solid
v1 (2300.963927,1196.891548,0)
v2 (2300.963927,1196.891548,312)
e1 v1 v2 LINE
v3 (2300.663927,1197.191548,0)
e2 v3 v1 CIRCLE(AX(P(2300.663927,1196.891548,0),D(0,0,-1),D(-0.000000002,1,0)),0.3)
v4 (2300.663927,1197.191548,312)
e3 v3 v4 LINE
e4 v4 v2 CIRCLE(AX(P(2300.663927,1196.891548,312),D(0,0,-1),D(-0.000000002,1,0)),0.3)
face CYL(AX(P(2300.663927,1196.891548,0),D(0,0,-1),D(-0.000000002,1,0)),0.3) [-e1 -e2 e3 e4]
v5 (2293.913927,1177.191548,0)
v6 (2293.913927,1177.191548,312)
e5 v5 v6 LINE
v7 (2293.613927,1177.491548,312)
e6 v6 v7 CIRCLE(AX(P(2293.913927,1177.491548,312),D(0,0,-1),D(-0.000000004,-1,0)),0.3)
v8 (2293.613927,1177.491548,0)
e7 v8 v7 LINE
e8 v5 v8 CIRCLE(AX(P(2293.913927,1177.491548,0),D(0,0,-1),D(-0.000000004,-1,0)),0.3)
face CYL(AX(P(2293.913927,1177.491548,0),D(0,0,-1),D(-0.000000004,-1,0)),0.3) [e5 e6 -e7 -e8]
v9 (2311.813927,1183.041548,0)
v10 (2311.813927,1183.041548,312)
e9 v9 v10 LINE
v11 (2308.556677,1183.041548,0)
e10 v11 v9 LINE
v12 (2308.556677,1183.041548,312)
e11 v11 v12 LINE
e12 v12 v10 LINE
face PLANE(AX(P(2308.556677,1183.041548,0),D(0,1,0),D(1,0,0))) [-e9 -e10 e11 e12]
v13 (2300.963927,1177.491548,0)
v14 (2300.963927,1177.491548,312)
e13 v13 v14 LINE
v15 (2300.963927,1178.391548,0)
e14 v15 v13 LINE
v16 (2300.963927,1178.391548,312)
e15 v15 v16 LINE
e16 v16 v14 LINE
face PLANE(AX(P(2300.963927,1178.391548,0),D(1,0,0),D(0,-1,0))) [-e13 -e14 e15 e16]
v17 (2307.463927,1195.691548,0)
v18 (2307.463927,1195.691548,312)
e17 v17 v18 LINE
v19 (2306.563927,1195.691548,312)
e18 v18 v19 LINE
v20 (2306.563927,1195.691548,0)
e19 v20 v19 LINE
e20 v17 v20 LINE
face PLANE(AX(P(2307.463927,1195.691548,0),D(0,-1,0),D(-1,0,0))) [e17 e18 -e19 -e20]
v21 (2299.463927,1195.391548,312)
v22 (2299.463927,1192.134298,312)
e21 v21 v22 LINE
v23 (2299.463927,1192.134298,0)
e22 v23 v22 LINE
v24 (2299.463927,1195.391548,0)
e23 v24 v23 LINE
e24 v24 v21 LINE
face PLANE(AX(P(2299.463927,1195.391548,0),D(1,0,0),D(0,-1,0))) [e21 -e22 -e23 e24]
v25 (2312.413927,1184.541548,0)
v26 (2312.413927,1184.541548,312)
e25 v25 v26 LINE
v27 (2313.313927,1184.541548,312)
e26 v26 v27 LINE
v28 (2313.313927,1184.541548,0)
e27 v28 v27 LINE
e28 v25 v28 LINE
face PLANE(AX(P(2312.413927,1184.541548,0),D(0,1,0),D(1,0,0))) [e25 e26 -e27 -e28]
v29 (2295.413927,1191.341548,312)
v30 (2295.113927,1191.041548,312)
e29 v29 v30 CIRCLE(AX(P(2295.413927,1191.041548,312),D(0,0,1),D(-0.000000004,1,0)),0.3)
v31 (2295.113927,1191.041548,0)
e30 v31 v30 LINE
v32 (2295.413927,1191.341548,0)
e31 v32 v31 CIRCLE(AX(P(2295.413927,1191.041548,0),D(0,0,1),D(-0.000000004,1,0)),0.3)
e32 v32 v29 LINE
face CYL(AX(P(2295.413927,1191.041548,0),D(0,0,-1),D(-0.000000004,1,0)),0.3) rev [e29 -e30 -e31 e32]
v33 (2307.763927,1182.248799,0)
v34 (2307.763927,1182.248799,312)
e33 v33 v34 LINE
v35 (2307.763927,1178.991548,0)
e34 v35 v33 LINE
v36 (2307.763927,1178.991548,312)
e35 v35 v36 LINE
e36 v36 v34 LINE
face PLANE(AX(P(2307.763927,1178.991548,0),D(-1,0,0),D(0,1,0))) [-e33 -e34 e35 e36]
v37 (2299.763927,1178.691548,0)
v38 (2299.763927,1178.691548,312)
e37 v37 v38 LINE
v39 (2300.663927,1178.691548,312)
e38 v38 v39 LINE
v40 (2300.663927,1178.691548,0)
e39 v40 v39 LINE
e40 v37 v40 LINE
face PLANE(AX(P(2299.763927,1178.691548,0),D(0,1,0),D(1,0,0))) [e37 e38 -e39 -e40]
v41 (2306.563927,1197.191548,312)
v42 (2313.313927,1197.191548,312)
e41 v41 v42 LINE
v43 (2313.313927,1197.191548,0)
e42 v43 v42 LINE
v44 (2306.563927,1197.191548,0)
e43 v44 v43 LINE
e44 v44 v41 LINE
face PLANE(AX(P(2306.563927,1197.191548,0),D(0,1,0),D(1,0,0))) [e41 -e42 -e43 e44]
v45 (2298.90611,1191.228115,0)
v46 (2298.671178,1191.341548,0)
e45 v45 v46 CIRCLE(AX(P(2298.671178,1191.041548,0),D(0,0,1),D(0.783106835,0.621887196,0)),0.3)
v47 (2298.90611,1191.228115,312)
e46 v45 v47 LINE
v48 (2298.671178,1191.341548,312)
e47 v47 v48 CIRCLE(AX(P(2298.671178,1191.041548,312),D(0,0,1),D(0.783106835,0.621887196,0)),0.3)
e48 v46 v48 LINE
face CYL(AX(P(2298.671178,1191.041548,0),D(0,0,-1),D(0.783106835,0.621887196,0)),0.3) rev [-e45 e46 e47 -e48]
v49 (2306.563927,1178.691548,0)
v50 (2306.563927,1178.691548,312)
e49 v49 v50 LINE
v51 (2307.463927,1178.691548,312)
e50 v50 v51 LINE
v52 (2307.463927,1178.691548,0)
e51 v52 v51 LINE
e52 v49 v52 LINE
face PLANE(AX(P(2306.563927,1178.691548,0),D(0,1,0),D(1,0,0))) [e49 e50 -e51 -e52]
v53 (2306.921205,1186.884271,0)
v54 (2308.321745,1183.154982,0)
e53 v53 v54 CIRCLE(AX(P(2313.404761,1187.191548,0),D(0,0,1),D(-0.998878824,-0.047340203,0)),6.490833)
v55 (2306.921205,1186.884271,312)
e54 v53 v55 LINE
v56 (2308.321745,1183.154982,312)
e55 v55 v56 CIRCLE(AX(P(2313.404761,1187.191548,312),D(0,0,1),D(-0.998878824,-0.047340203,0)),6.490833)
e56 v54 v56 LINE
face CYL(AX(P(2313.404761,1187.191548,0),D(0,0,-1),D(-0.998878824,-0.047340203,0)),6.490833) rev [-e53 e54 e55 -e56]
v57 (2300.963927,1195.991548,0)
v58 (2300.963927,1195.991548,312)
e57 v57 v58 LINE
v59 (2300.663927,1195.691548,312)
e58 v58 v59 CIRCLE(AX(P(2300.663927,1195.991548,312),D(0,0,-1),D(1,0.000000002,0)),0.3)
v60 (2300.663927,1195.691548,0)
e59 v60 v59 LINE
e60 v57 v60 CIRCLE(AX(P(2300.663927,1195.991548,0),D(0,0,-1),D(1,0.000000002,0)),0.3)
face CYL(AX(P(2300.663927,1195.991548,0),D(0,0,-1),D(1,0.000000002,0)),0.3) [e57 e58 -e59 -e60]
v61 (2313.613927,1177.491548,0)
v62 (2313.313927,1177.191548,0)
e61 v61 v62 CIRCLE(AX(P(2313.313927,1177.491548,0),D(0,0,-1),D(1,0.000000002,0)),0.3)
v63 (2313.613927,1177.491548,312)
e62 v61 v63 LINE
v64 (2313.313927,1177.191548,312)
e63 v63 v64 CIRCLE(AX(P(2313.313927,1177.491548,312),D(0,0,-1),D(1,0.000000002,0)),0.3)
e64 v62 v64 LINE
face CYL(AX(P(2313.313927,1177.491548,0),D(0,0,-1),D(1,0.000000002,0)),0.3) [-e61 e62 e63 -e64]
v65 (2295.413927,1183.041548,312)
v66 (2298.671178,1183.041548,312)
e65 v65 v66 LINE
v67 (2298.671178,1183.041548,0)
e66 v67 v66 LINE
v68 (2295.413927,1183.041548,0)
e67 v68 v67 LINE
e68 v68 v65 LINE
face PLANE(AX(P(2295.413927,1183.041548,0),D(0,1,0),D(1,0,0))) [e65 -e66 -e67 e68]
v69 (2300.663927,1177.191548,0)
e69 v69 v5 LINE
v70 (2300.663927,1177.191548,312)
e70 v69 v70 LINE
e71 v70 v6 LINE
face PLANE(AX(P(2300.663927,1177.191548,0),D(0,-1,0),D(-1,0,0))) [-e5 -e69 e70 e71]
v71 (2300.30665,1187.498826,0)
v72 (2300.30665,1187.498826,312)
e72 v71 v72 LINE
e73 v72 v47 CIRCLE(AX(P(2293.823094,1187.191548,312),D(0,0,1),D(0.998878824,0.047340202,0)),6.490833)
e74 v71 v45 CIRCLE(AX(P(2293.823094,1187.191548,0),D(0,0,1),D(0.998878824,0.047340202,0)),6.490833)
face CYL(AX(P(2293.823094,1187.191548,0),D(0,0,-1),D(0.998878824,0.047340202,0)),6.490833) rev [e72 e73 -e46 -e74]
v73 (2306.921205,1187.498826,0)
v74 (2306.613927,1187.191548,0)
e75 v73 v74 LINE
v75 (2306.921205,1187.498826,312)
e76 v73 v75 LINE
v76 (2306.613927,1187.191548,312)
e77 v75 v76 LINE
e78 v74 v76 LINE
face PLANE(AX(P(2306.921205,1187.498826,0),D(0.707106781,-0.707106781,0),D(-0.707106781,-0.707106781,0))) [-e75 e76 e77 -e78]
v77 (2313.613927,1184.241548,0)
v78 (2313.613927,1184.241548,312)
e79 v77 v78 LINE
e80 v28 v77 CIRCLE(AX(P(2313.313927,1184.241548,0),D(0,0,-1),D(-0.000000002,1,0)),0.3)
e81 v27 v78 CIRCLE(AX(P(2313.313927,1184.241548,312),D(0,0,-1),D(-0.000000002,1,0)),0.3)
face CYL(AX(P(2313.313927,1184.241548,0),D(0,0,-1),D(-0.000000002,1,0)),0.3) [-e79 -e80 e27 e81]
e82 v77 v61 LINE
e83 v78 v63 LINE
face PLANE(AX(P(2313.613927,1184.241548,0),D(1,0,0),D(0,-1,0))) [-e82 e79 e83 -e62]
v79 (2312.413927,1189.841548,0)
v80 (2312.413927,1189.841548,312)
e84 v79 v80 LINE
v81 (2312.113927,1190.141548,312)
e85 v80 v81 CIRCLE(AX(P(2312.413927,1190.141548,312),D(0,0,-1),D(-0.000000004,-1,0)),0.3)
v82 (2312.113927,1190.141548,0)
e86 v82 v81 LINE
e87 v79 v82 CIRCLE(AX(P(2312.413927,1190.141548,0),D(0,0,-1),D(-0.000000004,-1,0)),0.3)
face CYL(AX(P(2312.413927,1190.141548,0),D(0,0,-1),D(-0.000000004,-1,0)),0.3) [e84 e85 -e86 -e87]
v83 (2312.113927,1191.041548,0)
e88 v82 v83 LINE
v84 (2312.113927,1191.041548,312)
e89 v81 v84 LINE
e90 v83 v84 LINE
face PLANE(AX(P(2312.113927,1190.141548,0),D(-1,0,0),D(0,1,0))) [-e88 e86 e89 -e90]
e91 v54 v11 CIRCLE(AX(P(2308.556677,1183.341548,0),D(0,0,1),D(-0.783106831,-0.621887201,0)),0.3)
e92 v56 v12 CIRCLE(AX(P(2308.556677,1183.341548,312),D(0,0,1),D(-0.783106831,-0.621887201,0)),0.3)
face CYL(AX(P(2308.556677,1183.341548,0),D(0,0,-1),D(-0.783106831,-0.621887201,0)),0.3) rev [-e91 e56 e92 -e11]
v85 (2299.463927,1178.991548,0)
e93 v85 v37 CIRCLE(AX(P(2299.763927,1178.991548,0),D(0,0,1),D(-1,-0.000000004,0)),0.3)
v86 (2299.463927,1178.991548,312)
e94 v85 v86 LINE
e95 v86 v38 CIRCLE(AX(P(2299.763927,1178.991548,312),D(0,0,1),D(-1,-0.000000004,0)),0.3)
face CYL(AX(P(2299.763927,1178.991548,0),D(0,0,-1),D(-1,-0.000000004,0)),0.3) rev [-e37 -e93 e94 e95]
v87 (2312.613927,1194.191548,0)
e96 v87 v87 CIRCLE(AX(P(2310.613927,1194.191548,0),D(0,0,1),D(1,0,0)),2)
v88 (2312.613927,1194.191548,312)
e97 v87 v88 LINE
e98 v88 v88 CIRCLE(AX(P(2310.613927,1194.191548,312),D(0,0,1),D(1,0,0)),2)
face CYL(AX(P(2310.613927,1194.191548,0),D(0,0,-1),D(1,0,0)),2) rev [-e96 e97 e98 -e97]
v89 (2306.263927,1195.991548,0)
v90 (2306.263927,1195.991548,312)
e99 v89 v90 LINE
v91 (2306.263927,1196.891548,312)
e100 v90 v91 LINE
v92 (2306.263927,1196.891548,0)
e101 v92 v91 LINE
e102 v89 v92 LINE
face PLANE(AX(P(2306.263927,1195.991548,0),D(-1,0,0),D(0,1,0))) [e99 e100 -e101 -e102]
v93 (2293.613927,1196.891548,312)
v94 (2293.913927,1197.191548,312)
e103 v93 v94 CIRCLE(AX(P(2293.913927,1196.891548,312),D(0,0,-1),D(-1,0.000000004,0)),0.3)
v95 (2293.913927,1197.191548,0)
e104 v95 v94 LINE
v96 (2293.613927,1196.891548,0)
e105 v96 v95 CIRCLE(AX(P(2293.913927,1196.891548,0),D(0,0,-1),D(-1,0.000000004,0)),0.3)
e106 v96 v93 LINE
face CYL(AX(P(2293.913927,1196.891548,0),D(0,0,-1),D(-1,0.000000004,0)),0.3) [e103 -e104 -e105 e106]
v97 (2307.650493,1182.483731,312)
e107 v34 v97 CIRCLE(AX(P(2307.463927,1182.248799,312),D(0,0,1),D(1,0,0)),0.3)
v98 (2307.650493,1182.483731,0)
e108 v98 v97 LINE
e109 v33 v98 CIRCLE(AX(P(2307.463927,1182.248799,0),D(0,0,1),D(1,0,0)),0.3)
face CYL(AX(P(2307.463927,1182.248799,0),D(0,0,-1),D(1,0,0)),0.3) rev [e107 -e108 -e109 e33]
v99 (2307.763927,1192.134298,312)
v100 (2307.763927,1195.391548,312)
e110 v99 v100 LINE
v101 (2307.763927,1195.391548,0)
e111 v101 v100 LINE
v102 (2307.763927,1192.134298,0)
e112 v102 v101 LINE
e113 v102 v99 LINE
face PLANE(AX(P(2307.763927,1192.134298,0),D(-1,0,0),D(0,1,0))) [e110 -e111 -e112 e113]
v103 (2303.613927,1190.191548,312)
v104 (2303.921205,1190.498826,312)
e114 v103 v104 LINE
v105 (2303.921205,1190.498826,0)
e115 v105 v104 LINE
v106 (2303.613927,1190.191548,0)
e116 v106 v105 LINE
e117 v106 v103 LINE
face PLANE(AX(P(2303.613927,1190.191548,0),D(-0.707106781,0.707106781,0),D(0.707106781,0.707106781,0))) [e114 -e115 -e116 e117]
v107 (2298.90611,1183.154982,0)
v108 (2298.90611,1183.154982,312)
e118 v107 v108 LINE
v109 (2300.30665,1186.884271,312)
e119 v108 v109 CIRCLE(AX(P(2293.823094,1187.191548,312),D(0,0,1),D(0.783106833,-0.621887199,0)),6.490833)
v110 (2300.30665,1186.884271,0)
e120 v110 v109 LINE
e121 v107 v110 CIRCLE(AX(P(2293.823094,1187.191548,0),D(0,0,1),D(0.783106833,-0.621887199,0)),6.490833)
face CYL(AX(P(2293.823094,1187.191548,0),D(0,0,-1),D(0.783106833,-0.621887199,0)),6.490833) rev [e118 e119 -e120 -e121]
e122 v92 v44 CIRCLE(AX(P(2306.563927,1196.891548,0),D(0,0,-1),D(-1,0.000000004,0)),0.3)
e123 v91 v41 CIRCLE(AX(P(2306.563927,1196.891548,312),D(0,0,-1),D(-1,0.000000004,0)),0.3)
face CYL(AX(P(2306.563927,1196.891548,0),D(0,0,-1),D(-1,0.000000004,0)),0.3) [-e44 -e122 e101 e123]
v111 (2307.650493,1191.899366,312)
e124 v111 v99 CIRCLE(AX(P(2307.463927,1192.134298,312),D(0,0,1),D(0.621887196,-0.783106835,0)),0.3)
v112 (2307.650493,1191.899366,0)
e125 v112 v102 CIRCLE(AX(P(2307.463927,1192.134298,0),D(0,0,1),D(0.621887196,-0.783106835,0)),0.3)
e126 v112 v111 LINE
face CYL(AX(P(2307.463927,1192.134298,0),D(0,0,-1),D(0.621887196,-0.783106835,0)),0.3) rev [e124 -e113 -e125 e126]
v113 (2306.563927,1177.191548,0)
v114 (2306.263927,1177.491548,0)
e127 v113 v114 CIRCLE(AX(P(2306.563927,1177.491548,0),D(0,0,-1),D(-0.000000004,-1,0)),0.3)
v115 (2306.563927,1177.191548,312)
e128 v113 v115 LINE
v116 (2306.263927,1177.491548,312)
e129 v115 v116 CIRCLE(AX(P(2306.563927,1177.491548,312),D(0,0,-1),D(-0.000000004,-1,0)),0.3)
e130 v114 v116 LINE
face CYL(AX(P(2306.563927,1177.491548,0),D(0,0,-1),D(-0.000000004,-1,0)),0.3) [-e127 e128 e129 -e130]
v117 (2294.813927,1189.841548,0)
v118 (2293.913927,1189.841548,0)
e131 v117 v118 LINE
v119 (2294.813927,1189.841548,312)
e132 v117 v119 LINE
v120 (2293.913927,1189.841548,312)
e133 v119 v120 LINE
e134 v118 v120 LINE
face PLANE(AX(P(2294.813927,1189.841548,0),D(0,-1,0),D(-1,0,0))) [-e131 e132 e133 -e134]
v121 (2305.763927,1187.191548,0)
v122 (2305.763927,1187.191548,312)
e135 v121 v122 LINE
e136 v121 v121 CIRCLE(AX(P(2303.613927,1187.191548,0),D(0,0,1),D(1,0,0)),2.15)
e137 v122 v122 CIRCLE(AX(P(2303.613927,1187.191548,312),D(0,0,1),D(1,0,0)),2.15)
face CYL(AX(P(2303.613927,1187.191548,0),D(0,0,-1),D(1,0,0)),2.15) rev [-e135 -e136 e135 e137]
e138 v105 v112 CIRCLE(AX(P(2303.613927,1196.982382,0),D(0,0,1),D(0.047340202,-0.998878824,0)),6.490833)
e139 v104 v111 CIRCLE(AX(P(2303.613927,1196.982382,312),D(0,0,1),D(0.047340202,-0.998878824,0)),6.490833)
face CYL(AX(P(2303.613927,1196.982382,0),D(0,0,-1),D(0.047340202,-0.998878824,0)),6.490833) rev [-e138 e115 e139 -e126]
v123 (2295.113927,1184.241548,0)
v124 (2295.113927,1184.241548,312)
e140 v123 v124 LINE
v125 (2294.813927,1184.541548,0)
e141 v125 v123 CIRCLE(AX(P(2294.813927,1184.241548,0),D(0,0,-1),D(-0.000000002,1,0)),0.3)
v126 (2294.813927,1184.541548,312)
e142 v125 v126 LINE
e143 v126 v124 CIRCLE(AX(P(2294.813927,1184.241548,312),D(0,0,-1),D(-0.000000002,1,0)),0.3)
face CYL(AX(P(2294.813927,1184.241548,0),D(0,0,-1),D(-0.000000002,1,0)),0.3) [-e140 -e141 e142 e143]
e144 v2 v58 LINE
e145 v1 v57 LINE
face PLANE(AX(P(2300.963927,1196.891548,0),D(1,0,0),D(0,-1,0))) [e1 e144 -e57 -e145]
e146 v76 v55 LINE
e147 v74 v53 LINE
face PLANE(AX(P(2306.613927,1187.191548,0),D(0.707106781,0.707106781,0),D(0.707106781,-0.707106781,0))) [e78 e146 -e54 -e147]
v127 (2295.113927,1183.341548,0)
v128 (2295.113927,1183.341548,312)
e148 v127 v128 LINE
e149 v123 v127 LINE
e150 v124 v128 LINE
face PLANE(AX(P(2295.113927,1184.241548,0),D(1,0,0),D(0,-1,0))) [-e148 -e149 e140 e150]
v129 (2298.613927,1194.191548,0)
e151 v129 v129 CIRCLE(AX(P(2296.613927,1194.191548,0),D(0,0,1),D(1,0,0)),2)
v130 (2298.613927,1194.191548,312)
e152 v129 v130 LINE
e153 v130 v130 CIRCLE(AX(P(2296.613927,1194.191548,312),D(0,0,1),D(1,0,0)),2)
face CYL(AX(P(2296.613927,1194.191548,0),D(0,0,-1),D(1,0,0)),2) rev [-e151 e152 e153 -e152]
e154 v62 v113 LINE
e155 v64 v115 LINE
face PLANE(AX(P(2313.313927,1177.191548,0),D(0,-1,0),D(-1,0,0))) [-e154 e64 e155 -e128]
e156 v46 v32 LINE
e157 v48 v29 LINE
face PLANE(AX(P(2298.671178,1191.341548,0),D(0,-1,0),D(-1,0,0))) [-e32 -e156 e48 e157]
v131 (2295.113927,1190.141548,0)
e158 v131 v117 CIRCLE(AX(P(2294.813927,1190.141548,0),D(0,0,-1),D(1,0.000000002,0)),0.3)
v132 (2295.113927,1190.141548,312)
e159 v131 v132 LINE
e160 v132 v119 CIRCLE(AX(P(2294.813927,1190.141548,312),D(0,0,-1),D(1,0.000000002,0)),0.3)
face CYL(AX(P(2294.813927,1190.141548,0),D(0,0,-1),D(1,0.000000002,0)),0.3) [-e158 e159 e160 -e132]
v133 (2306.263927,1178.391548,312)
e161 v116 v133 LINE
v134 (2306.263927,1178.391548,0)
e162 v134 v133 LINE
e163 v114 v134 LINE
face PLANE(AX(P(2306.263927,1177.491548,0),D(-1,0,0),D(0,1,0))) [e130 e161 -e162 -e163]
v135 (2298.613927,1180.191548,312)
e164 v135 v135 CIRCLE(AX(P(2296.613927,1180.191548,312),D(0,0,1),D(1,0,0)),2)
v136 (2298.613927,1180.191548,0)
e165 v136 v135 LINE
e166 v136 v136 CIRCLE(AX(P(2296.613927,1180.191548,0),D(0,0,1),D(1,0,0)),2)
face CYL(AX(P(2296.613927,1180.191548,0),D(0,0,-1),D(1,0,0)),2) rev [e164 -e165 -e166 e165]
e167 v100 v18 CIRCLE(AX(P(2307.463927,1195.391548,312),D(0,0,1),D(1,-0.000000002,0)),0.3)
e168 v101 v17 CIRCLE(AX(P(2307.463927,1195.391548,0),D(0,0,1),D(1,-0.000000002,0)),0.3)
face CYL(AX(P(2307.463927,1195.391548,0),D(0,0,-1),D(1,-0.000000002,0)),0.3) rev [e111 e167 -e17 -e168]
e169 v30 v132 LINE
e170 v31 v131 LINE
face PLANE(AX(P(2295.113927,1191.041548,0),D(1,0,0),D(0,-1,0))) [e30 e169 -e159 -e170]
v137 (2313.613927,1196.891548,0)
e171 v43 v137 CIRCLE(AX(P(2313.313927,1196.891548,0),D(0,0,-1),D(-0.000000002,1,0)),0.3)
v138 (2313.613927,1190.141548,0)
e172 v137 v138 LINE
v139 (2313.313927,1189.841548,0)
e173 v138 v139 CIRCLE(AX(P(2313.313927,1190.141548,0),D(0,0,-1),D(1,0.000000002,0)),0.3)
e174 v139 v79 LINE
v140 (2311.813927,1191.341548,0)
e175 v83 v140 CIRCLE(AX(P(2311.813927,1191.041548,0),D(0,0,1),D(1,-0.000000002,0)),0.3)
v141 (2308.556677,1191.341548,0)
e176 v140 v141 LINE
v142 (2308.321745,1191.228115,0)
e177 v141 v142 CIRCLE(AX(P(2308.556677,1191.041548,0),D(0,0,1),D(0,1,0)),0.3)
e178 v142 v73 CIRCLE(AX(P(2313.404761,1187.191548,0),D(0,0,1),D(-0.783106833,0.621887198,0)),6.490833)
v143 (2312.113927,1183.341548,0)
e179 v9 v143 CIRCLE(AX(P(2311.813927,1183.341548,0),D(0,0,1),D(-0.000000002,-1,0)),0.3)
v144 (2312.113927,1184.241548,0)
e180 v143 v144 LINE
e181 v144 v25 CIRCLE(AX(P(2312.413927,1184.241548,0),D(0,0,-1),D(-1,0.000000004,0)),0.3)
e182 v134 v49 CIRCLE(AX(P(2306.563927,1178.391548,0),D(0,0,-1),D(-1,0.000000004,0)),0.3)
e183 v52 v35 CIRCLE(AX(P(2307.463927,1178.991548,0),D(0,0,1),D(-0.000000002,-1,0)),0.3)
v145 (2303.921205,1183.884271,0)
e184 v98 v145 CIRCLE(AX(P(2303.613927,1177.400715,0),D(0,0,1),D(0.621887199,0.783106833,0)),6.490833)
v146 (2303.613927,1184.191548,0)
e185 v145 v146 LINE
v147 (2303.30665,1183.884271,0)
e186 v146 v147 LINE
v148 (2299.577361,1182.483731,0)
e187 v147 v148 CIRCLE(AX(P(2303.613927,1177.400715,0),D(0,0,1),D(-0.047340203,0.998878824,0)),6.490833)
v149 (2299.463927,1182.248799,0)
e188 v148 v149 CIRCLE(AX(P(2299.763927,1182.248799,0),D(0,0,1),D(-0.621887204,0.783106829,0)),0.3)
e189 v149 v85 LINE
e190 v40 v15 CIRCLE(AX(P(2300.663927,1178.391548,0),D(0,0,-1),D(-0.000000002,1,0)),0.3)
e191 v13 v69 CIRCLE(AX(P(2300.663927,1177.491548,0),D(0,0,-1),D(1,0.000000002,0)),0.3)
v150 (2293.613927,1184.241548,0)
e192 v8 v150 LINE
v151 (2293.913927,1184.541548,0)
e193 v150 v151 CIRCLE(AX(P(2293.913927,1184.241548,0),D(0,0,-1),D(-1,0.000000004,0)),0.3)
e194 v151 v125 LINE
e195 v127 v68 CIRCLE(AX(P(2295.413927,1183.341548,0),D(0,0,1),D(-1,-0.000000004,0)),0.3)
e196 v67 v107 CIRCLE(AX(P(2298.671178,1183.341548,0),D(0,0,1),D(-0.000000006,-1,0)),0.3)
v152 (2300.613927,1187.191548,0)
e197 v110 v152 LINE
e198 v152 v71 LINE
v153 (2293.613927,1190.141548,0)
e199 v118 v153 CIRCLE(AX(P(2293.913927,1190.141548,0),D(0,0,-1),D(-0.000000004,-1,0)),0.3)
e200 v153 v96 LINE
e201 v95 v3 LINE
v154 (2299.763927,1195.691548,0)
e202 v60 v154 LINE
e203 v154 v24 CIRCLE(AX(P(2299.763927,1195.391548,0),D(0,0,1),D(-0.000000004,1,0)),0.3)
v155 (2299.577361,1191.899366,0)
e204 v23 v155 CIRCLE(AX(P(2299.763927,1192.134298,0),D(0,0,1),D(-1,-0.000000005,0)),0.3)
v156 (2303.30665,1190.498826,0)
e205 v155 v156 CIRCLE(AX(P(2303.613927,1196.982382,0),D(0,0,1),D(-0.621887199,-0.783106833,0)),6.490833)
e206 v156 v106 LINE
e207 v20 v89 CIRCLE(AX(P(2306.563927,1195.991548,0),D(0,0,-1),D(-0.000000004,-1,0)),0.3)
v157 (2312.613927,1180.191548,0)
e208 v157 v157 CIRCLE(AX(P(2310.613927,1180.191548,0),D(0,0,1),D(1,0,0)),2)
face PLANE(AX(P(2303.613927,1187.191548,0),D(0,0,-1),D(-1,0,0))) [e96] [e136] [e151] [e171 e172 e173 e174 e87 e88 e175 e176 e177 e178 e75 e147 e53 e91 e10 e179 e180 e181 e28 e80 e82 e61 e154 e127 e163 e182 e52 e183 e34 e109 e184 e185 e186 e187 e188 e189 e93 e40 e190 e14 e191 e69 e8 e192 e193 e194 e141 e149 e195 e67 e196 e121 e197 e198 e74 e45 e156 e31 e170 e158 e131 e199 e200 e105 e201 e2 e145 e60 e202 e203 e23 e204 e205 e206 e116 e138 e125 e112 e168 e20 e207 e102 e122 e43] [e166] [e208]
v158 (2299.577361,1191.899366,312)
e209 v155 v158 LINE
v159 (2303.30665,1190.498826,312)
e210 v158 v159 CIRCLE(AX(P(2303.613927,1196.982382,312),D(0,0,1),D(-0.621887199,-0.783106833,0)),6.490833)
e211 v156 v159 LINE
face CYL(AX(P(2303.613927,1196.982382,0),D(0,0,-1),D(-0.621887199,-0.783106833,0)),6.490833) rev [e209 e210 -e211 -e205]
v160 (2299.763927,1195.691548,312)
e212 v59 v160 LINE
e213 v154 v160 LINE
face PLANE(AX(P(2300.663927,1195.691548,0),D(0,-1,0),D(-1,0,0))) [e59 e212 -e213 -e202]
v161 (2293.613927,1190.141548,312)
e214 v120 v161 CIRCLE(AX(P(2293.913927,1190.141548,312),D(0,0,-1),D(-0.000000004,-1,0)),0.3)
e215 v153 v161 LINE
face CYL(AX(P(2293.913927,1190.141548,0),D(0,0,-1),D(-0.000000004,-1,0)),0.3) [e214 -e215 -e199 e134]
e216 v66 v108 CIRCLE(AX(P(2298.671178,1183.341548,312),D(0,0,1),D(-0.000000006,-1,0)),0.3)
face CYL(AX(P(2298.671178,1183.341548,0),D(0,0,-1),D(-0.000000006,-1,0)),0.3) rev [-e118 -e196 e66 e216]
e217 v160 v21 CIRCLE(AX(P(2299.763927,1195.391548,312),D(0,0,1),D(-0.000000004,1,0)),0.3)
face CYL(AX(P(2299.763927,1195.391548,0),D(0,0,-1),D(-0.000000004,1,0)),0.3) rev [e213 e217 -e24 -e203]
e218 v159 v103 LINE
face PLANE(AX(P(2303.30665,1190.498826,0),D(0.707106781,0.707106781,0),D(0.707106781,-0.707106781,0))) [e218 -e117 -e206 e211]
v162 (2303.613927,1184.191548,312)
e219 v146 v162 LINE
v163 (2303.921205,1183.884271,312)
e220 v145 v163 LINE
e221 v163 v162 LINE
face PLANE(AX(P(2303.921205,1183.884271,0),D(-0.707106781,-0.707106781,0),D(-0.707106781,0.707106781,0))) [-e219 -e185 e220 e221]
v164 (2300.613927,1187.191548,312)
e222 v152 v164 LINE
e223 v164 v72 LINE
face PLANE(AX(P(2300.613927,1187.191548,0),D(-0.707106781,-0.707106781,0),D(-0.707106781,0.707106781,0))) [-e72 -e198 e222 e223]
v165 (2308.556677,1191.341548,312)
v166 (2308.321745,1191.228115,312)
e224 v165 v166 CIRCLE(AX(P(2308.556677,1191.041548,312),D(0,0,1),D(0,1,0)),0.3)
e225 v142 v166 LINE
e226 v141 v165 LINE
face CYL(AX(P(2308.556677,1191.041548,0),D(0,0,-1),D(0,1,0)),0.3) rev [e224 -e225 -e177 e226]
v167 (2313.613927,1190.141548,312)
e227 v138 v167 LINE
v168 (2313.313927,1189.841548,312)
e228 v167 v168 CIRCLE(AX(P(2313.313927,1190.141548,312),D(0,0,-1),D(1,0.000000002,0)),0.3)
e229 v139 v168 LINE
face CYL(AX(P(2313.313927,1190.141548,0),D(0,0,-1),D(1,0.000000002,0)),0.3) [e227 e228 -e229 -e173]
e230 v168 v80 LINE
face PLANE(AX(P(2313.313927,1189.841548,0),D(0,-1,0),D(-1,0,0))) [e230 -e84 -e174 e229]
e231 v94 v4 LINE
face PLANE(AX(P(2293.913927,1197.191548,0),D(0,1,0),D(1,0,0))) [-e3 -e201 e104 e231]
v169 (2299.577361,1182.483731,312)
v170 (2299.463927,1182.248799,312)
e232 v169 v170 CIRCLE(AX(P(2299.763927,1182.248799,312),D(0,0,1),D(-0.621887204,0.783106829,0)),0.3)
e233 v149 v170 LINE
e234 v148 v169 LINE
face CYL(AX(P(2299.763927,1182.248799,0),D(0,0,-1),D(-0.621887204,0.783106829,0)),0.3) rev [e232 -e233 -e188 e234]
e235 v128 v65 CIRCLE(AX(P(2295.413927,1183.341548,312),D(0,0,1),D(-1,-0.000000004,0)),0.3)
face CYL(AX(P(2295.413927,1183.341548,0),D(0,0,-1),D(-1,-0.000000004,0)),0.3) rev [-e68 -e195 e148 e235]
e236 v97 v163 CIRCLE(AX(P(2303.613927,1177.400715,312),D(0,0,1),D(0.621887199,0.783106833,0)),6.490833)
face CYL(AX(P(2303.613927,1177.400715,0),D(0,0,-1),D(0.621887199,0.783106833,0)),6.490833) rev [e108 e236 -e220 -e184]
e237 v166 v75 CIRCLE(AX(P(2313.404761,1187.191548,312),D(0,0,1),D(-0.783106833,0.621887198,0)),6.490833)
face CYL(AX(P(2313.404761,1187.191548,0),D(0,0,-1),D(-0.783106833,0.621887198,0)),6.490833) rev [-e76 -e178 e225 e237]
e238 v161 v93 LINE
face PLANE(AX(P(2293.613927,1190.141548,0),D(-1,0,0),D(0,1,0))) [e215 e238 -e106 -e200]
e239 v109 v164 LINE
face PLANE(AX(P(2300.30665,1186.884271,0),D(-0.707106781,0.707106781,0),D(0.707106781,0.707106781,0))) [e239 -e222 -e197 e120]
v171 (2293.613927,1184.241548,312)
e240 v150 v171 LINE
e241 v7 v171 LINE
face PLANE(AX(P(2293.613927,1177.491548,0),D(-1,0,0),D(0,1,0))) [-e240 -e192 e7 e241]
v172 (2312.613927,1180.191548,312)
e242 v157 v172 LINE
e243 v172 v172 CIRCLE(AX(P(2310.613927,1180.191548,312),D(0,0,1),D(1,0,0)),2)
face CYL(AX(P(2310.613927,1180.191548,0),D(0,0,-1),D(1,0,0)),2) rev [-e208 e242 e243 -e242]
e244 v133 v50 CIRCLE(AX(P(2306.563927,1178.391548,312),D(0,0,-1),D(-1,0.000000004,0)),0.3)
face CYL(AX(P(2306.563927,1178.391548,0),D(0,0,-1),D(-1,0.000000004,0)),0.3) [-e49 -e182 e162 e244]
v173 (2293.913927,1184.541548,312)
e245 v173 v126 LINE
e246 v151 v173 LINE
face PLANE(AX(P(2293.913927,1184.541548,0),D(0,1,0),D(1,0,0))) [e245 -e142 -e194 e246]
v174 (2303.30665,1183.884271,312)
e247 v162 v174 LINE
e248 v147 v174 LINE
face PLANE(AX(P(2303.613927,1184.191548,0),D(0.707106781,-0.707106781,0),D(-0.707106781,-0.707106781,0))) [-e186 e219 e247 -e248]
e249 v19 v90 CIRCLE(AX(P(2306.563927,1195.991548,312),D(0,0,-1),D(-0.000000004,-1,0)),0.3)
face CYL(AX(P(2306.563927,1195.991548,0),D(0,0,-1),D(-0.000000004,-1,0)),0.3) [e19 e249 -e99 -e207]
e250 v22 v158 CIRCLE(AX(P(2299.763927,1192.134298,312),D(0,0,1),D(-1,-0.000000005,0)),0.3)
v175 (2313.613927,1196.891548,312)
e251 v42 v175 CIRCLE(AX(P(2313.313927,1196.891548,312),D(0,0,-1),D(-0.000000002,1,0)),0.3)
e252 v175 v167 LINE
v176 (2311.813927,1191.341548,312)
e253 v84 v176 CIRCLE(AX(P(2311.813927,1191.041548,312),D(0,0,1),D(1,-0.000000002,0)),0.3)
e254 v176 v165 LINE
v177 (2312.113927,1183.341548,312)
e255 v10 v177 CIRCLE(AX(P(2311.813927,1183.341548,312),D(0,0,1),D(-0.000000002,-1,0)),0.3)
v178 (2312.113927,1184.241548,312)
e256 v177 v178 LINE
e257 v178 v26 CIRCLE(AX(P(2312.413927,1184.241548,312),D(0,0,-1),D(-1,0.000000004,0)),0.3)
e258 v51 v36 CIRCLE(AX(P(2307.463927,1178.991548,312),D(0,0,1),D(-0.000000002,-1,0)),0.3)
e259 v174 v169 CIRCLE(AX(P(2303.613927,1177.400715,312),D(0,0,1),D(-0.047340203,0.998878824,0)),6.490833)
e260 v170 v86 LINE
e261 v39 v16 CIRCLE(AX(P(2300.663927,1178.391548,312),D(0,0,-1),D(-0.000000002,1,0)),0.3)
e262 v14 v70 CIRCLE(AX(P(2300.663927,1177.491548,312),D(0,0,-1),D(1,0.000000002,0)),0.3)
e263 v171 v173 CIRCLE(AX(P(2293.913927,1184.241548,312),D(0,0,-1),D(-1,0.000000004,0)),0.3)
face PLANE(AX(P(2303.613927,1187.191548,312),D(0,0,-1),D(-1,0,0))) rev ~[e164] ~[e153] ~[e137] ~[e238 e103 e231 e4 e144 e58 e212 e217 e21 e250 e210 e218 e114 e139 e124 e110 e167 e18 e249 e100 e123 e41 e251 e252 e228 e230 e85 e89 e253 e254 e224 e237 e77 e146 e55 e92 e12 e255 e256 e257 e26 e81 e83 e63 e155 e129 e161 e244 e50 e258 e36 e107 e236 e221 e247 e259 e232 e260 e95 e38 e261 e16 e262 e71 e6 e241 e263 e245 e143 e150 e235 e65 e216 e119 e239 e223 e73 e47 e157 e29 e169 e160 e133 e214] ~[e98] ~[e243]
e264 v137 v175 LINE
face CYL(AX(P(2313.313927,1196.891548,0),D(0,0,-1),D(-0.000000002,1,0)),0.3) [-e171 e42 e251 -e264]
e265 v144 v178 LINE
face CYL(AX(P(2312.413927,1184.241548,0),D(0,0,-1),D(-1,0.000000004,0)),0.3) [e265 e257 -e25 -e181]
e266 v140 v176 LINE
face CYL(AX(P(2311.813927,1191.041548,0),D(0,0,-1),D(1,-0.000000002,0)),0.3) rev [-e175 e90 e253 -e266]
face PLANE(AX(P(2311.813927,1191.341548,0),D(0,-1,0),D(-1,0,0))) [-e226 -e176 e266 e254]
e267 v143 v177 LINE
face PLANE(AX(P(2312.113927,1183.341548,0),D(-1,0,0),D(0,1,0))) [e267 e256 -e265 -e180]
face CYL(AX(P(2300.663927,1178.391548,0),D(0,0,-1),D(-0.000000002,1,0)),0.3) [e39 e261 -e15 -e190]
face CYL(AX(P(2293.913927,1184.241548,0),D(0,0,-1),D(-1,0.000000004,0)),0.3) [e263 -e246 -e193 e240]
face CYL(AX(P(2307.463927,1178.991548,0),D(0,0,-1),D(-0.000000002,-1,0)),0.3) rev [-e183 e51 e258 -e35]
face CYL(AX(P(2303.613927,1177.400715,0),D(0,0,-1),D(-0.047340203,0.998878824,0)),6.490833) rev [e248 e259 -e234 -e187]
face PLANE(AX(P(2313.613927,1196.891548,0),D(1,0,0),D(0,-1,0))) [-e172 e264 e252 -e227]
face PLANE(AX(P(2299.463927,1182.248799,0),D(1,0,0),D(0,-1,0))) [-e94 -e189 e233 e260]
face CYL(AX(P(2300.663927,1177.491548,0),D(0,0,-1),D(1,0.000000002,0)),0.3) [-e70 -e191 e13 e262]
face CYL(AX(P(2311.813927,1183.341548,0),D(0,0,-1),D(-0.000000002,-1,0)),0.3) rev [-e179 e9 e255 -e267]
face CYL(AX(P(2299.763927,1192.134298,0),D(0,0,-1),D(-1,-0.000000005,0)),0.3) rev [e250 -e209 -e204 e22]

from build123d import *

# Parameters (mm, degrees)
MODEL_R         = 2.15
MODEL_R_2       = 2
EXTRUDE_1_DEPTH = 312


with BuildPart() as part:
    # Model → 보스-돌출1 (new body)
    with BuildSketch(Plane.XY):
        with BuildLine():
            Line((2307.763927197, 1192.134297913), (2307.763927197, 1195.391548465))
            ThreePointArc((2307.763927197, 1195.391548465), (2307.676059232, 1195.603680499), (2307.463927197, 1195.691548465))
            Line((2307.463927197, 1195.691548465), (2306.563927197, 1195.691548465))
            ThreePointArc((2306.563927197, 1195.691548465), (2306.351795163, 1195.779416431), (2306.263927197, 1195.991548465))
            Line((2306.263927197, 1195.991548465), (2306.263927197, 1196.891548465))
            ThreePointArc((2306.263927197, 1196.891548465), (2306.351795163, 1197.103680499), (2306.563927197, 1197.191548465))
            Line((2306.563927197, 1197.191548465), (2313.313927197, 1197.191548465))
            ThreePointArc((2313.313927197, 1197.191548465), (2313.526059232, 1197.103680499), (2313.613927197, 1196.891548465))
            Line((2313.613927197, 1196.891548465), (2313.613927197, 1190.141548465))
            ThreePointArc((2313.613927197, 1190.141548465), (2313.526059232, 1189.929416431), (2313.313927197, 1189.841548465))
            Line((2313.313927197, 1189.841548465), (2312.413927197, 1189.841548465))
            ThreePointArc((2312.413927197, 1189.841548465), (2312.201795163, 1189.929416431), (2312.113927197, 1190.141548465))
            Line((2312.113927197, 1190.141548465), (2312.113927197, 1191.041548465))
            ThreePointArc((2312.113927197, 1191.041548465), (2312.026059232, 1191.253680499), (2311.813927197, 1191.341548465))
            Line((2311.813927197, 1191.341548465), (2308.556676645, 1191.341548465))
            ThreePointArc((2308.556676645, 1191.341548465), (2308.426234796, 1191.311705686), (2308.321744595, 1191.228114625))
            ThreePointArc((2308.321744595, 1191.228114625), (2307.328306374, 1189.47356999), (2306.921204563, 1187.498825831))
            Line((2306.921204563, 1187.498825831), (2306.613927197, 1187.191548465))
            Line((2306.613927197, 1187.191548465), (2306.921204563, 1186.884271099))
            ThreePointArc((2306.921204563, 1186.884271099), (2307.328306374, 1184.90952694), (2308.321744595, 1183.154982305))
            ThreePointArc((2308.321744595, 1183.154982305), (2308.426234796, 1183.071391244), (2308.556676645, 1183.041548465))
            Line((2308.556676645, 1183.041548465), (2311.813927197, 1183.041548465))
            ThreePointArc((2311.813927197, 1183.041548465), (2312.026059232, 1183.129416431), (2312.113927197, 1183.341548465))
            Line((2312.113927197, 1183.341548465), (2312.113927197, 1184.241548465))
            ThreePointArc((2312.113927197, 1184.241548465), (2312.201795163, 1184.453680499), (2312.413927197, 1184.541548465))
            Line((2312.413927197, 1184.541548465), (2313.313927197, 1184.541548465))
            ThreePointArc((2313.313927197, 1184.541548465), (2313.526059232, 1184.453680499), (2313.613927197, 1184.241548465))
            Line((2313.613927197, 1184.241548465), (2313.613927197, 1177.491548465))
            ThreePointArc((2313.613927197, 1177.491548465), (2313.526059232, 1177.279416431), (2313.313927197, 1177.191548465))
            Line((2313.313927197, 1177.191548465), (2306.563927197, 1177.191548465))
            ThreePointArc((2306.563927197, 1177.191548465), (2306.351795163, 1177.279416431), (2306.263927197, 1177.491548465))
            Line((2306.263927197, 1177.491548465), (2306.263927197, 1178.391548465))
            ThreePointArc((2306.263927197, 1178.391548465), (2306.351795163, 1178.603680499), (2306.563927197, 1178.691548465))
            Line((2306.563927197, 1178.691548465), (2307.463927197, 1178.691548465))
            ThreePointArc((2307.463927197, 1178.691548465), (2307.676059232, 1178.779416431), (2307.763927197, 1178.991548465))
            Line((2307.763927197, 1178.991548465), (2307.763927197, 1182.248799017))
            ThreePointArc((2307.763927197, 1182.248799017), (2307.734084418, 1182.379240866), (2307.650493357, 1182.483731067))
            ThreePointArc((2307.650493357, 1182.483731067), (2305.895948722, 1183.477169289), (2303.921204563, 1183.884271099))
            Line((2303.921204563, 1183.884271099), (2303.613927197, 1184.191548465))
            Line((2303.613927197, 1184.191548465), (2303.306649831, 1183.884271099))
            ThreePointArc((2303.306649831, 1183.884271099), (2301.331905673, 1183.477169289), (2299.577361038, 1182.483731067))
            ThreePointArc((2299.577361038, 1182.483731067), (2299.493769977, 1182.379240866), (2299.463927197, 1182.248799017))
            Line((2299.463927197, 1182.248799017), (2299.463927197, 1178.991548465))
            ThreePointArc((2299.463927197, 1178.991548465), (2299.551795163, 1178.779416431), (2299.763927197, 1178.691548465))
            Line((2299.763927197, 1178.691548465), (2300.663927197, 1178.691548465))
            ThreePointArc((2300.663927197, 1178.691548465), (2300.876059232, 1178.603680499), (2300.963927197, 1178.391548465))
            Line((2300.963927197, 1178.391548465), (2300.963927197, 1177.491548465))
            ThreePointArc((2300.963927197, 1177.491548465), (2300.876059232, 1177.279416431), (2300.663927197, 1177.191548465))
            Line((2300.663927197, 1177.191548465), (2293.913927197, 1177.191548465))
            ThreePointArc((2293.913927197, 1177.191548465), (2293.701795163, 1177.279416431), (2293.613927197, 1177.491548465))
            Line((2293.613927197, 1177.491548465), (2293.613927197, 1184.241548465))
            ThreePointArc((2293.613927197, 1184.241548465), (2293.701795163, 1184.453680499), (2293.913927197, 1184.541548465))
            Line((2293.913927197, 1184.541548465), (2294.813927197, 1184.541548465))
            ThreePointArc((2294.813927197, 1184.541548465), (2295.026059232, 1184.453680499), (2295.113927197, 1184.241548465))
            Line((2295.113927197, 1184.241548465), (2295.113927197, 1183.341548465))
            ThreePointArc((2295.113927197, 1183.341548465), (2295.201795163, 1183.129416431), (2295.413927197, 1183.041548465))
            Line((2295.413927197, 1183.041548465), (2298.671177749, 1183.041548465))
            ThreePointArc((2298.671177749, 1183.041548465), (2298.801619599, 1183.071391244), (2298.906109799, 1183.154982305))
            ThreePointArc((2298.906109799, 1183.154982305), (2299.899548021, 1184.90952694), (2300.306649831, 1186.884271099))
            Line((2300.306649831, 1186.884271099), (2300.613927197, 1187.191548465))
            Line((2300.613927197, 1187.191548465), (2300.306649831, 1187.498825831))
            ThreePointArc((2300.306649831, 1187.498825831), (2299.899548021, 1189.47356999), (2298.906109799, 1191.228114625))
            ThreePointArc((2298.906109799, 1191.228114625), (2298.801619599, 1191.311705686), (2298.671177749, 1191.341548465))
            Line((2298.671177749, 1191.341548465), (2295.413927197, 1191.341548465))
            ThreePointArc((2295.413927197, 1191.341548465), (2295.201795163, 1191.253680499), (2295.113927197, 1191.041548465))
            Line((2295.113927197, 1191.041548465), (2295.113927197, 1190.141548465))
            ThreePointArc((2295.113927197, 1190.141548465), (2295.026059232, 1189.929416431), (2294.813927197, 1189.841548465))
            Line((2294.813927197, 1189.841548465), (2293.913927197, 1189.841548465))
            ThreePointArc((2293.913927197, 1189.841548465), (2293.701795163, 1189.929416431), (2293.613927197, 1190.141548465))
            Line((2293.613927197, 1190.141548465), (2293.613927197, 1196.891548465))
            ThreePointArc((2293.613927197, 1196.891548465), (2293.701795163, 1197.103680499), (2293.913927197, 1197.191548465))
            Line((2293.913927197, 1197.191548465), (2300.663927197, 1197.191548465))
            ThreePointArc((2300.663927197, 1197.191548465), (2300.876059232, 1197.103680499), (2300.963927197, 1196.891548465))
            Line((2300.963927197, 1196.891548465), (2300.963927197, 1195.991548465))
            ThreePointArc((2300.963927197, 1195.991548465), (2300.876059232, 1195.779416431), (2300.663927197, 1195.691548465))
            Line((2300.663927197, 1195.691548465), (2299.763927197, 1195.691548465))
            ThreePointArc((2299.763927197, 1195.691548465), (2299.551795163, 1195.603680499), (2299.463927197, 1195.391548465))
            Line((2299.463927197, 1195.391548465), (2299.463927197, 1192.134297913))
            ThreePointArc((2299.463927197, 1192.134297913), (2299.493769977, 1192.003856063), (2299.577361038, 1191.899365863))
            ThreePointArc((2299.577361038, 1191.899365863), (2301.331905673, 1190.905927641), (2303.306649831, 1190.498825831))
            Line((2303.306649831, 1190.498825831), (2303.613927197, 1190.191548465))
            Line((2303.613927197, 1190.191548465), (2303.921204563, 1190.498825831))
            ThreePointArc((2303.921204563, 1190.498825831), (2305.895948722, 1190.905927641), (2307.650493357, 1191.899365863))
            ThreePointArc((2307.650493357, 1191.899365863), (2307.734084418, 1192.003856063), (2307.763927197, 1192.134297913))
        make_face()
        with Locations((2303.613927197, 1187.191548465)):
            Circle(MODEL_R, mode=Mode.SUBTRACT)
        with Locations((2296.613927197, 1194.191548465)):
            Circle(MODEL_R_2, mode=Mode.SUBTRACT)
        with Locations((2296.613927197, 1180.191548465)):
            Circle(MODEL_R_2, mode=Mode.SUBTRACT)
        with Locations((2310.613927197, 1194.191548465)):
            Circle(MODEL_R_2, mode=Mode.SUBTRACT)
        with Locations((2310.613927197, 1180.191548465)):
            Circle(MODEL_R_2, mode=Mode.SUBTRACT)
    extrude(amount=EXTRUDE_1_DEPTH)


solid = part.part
